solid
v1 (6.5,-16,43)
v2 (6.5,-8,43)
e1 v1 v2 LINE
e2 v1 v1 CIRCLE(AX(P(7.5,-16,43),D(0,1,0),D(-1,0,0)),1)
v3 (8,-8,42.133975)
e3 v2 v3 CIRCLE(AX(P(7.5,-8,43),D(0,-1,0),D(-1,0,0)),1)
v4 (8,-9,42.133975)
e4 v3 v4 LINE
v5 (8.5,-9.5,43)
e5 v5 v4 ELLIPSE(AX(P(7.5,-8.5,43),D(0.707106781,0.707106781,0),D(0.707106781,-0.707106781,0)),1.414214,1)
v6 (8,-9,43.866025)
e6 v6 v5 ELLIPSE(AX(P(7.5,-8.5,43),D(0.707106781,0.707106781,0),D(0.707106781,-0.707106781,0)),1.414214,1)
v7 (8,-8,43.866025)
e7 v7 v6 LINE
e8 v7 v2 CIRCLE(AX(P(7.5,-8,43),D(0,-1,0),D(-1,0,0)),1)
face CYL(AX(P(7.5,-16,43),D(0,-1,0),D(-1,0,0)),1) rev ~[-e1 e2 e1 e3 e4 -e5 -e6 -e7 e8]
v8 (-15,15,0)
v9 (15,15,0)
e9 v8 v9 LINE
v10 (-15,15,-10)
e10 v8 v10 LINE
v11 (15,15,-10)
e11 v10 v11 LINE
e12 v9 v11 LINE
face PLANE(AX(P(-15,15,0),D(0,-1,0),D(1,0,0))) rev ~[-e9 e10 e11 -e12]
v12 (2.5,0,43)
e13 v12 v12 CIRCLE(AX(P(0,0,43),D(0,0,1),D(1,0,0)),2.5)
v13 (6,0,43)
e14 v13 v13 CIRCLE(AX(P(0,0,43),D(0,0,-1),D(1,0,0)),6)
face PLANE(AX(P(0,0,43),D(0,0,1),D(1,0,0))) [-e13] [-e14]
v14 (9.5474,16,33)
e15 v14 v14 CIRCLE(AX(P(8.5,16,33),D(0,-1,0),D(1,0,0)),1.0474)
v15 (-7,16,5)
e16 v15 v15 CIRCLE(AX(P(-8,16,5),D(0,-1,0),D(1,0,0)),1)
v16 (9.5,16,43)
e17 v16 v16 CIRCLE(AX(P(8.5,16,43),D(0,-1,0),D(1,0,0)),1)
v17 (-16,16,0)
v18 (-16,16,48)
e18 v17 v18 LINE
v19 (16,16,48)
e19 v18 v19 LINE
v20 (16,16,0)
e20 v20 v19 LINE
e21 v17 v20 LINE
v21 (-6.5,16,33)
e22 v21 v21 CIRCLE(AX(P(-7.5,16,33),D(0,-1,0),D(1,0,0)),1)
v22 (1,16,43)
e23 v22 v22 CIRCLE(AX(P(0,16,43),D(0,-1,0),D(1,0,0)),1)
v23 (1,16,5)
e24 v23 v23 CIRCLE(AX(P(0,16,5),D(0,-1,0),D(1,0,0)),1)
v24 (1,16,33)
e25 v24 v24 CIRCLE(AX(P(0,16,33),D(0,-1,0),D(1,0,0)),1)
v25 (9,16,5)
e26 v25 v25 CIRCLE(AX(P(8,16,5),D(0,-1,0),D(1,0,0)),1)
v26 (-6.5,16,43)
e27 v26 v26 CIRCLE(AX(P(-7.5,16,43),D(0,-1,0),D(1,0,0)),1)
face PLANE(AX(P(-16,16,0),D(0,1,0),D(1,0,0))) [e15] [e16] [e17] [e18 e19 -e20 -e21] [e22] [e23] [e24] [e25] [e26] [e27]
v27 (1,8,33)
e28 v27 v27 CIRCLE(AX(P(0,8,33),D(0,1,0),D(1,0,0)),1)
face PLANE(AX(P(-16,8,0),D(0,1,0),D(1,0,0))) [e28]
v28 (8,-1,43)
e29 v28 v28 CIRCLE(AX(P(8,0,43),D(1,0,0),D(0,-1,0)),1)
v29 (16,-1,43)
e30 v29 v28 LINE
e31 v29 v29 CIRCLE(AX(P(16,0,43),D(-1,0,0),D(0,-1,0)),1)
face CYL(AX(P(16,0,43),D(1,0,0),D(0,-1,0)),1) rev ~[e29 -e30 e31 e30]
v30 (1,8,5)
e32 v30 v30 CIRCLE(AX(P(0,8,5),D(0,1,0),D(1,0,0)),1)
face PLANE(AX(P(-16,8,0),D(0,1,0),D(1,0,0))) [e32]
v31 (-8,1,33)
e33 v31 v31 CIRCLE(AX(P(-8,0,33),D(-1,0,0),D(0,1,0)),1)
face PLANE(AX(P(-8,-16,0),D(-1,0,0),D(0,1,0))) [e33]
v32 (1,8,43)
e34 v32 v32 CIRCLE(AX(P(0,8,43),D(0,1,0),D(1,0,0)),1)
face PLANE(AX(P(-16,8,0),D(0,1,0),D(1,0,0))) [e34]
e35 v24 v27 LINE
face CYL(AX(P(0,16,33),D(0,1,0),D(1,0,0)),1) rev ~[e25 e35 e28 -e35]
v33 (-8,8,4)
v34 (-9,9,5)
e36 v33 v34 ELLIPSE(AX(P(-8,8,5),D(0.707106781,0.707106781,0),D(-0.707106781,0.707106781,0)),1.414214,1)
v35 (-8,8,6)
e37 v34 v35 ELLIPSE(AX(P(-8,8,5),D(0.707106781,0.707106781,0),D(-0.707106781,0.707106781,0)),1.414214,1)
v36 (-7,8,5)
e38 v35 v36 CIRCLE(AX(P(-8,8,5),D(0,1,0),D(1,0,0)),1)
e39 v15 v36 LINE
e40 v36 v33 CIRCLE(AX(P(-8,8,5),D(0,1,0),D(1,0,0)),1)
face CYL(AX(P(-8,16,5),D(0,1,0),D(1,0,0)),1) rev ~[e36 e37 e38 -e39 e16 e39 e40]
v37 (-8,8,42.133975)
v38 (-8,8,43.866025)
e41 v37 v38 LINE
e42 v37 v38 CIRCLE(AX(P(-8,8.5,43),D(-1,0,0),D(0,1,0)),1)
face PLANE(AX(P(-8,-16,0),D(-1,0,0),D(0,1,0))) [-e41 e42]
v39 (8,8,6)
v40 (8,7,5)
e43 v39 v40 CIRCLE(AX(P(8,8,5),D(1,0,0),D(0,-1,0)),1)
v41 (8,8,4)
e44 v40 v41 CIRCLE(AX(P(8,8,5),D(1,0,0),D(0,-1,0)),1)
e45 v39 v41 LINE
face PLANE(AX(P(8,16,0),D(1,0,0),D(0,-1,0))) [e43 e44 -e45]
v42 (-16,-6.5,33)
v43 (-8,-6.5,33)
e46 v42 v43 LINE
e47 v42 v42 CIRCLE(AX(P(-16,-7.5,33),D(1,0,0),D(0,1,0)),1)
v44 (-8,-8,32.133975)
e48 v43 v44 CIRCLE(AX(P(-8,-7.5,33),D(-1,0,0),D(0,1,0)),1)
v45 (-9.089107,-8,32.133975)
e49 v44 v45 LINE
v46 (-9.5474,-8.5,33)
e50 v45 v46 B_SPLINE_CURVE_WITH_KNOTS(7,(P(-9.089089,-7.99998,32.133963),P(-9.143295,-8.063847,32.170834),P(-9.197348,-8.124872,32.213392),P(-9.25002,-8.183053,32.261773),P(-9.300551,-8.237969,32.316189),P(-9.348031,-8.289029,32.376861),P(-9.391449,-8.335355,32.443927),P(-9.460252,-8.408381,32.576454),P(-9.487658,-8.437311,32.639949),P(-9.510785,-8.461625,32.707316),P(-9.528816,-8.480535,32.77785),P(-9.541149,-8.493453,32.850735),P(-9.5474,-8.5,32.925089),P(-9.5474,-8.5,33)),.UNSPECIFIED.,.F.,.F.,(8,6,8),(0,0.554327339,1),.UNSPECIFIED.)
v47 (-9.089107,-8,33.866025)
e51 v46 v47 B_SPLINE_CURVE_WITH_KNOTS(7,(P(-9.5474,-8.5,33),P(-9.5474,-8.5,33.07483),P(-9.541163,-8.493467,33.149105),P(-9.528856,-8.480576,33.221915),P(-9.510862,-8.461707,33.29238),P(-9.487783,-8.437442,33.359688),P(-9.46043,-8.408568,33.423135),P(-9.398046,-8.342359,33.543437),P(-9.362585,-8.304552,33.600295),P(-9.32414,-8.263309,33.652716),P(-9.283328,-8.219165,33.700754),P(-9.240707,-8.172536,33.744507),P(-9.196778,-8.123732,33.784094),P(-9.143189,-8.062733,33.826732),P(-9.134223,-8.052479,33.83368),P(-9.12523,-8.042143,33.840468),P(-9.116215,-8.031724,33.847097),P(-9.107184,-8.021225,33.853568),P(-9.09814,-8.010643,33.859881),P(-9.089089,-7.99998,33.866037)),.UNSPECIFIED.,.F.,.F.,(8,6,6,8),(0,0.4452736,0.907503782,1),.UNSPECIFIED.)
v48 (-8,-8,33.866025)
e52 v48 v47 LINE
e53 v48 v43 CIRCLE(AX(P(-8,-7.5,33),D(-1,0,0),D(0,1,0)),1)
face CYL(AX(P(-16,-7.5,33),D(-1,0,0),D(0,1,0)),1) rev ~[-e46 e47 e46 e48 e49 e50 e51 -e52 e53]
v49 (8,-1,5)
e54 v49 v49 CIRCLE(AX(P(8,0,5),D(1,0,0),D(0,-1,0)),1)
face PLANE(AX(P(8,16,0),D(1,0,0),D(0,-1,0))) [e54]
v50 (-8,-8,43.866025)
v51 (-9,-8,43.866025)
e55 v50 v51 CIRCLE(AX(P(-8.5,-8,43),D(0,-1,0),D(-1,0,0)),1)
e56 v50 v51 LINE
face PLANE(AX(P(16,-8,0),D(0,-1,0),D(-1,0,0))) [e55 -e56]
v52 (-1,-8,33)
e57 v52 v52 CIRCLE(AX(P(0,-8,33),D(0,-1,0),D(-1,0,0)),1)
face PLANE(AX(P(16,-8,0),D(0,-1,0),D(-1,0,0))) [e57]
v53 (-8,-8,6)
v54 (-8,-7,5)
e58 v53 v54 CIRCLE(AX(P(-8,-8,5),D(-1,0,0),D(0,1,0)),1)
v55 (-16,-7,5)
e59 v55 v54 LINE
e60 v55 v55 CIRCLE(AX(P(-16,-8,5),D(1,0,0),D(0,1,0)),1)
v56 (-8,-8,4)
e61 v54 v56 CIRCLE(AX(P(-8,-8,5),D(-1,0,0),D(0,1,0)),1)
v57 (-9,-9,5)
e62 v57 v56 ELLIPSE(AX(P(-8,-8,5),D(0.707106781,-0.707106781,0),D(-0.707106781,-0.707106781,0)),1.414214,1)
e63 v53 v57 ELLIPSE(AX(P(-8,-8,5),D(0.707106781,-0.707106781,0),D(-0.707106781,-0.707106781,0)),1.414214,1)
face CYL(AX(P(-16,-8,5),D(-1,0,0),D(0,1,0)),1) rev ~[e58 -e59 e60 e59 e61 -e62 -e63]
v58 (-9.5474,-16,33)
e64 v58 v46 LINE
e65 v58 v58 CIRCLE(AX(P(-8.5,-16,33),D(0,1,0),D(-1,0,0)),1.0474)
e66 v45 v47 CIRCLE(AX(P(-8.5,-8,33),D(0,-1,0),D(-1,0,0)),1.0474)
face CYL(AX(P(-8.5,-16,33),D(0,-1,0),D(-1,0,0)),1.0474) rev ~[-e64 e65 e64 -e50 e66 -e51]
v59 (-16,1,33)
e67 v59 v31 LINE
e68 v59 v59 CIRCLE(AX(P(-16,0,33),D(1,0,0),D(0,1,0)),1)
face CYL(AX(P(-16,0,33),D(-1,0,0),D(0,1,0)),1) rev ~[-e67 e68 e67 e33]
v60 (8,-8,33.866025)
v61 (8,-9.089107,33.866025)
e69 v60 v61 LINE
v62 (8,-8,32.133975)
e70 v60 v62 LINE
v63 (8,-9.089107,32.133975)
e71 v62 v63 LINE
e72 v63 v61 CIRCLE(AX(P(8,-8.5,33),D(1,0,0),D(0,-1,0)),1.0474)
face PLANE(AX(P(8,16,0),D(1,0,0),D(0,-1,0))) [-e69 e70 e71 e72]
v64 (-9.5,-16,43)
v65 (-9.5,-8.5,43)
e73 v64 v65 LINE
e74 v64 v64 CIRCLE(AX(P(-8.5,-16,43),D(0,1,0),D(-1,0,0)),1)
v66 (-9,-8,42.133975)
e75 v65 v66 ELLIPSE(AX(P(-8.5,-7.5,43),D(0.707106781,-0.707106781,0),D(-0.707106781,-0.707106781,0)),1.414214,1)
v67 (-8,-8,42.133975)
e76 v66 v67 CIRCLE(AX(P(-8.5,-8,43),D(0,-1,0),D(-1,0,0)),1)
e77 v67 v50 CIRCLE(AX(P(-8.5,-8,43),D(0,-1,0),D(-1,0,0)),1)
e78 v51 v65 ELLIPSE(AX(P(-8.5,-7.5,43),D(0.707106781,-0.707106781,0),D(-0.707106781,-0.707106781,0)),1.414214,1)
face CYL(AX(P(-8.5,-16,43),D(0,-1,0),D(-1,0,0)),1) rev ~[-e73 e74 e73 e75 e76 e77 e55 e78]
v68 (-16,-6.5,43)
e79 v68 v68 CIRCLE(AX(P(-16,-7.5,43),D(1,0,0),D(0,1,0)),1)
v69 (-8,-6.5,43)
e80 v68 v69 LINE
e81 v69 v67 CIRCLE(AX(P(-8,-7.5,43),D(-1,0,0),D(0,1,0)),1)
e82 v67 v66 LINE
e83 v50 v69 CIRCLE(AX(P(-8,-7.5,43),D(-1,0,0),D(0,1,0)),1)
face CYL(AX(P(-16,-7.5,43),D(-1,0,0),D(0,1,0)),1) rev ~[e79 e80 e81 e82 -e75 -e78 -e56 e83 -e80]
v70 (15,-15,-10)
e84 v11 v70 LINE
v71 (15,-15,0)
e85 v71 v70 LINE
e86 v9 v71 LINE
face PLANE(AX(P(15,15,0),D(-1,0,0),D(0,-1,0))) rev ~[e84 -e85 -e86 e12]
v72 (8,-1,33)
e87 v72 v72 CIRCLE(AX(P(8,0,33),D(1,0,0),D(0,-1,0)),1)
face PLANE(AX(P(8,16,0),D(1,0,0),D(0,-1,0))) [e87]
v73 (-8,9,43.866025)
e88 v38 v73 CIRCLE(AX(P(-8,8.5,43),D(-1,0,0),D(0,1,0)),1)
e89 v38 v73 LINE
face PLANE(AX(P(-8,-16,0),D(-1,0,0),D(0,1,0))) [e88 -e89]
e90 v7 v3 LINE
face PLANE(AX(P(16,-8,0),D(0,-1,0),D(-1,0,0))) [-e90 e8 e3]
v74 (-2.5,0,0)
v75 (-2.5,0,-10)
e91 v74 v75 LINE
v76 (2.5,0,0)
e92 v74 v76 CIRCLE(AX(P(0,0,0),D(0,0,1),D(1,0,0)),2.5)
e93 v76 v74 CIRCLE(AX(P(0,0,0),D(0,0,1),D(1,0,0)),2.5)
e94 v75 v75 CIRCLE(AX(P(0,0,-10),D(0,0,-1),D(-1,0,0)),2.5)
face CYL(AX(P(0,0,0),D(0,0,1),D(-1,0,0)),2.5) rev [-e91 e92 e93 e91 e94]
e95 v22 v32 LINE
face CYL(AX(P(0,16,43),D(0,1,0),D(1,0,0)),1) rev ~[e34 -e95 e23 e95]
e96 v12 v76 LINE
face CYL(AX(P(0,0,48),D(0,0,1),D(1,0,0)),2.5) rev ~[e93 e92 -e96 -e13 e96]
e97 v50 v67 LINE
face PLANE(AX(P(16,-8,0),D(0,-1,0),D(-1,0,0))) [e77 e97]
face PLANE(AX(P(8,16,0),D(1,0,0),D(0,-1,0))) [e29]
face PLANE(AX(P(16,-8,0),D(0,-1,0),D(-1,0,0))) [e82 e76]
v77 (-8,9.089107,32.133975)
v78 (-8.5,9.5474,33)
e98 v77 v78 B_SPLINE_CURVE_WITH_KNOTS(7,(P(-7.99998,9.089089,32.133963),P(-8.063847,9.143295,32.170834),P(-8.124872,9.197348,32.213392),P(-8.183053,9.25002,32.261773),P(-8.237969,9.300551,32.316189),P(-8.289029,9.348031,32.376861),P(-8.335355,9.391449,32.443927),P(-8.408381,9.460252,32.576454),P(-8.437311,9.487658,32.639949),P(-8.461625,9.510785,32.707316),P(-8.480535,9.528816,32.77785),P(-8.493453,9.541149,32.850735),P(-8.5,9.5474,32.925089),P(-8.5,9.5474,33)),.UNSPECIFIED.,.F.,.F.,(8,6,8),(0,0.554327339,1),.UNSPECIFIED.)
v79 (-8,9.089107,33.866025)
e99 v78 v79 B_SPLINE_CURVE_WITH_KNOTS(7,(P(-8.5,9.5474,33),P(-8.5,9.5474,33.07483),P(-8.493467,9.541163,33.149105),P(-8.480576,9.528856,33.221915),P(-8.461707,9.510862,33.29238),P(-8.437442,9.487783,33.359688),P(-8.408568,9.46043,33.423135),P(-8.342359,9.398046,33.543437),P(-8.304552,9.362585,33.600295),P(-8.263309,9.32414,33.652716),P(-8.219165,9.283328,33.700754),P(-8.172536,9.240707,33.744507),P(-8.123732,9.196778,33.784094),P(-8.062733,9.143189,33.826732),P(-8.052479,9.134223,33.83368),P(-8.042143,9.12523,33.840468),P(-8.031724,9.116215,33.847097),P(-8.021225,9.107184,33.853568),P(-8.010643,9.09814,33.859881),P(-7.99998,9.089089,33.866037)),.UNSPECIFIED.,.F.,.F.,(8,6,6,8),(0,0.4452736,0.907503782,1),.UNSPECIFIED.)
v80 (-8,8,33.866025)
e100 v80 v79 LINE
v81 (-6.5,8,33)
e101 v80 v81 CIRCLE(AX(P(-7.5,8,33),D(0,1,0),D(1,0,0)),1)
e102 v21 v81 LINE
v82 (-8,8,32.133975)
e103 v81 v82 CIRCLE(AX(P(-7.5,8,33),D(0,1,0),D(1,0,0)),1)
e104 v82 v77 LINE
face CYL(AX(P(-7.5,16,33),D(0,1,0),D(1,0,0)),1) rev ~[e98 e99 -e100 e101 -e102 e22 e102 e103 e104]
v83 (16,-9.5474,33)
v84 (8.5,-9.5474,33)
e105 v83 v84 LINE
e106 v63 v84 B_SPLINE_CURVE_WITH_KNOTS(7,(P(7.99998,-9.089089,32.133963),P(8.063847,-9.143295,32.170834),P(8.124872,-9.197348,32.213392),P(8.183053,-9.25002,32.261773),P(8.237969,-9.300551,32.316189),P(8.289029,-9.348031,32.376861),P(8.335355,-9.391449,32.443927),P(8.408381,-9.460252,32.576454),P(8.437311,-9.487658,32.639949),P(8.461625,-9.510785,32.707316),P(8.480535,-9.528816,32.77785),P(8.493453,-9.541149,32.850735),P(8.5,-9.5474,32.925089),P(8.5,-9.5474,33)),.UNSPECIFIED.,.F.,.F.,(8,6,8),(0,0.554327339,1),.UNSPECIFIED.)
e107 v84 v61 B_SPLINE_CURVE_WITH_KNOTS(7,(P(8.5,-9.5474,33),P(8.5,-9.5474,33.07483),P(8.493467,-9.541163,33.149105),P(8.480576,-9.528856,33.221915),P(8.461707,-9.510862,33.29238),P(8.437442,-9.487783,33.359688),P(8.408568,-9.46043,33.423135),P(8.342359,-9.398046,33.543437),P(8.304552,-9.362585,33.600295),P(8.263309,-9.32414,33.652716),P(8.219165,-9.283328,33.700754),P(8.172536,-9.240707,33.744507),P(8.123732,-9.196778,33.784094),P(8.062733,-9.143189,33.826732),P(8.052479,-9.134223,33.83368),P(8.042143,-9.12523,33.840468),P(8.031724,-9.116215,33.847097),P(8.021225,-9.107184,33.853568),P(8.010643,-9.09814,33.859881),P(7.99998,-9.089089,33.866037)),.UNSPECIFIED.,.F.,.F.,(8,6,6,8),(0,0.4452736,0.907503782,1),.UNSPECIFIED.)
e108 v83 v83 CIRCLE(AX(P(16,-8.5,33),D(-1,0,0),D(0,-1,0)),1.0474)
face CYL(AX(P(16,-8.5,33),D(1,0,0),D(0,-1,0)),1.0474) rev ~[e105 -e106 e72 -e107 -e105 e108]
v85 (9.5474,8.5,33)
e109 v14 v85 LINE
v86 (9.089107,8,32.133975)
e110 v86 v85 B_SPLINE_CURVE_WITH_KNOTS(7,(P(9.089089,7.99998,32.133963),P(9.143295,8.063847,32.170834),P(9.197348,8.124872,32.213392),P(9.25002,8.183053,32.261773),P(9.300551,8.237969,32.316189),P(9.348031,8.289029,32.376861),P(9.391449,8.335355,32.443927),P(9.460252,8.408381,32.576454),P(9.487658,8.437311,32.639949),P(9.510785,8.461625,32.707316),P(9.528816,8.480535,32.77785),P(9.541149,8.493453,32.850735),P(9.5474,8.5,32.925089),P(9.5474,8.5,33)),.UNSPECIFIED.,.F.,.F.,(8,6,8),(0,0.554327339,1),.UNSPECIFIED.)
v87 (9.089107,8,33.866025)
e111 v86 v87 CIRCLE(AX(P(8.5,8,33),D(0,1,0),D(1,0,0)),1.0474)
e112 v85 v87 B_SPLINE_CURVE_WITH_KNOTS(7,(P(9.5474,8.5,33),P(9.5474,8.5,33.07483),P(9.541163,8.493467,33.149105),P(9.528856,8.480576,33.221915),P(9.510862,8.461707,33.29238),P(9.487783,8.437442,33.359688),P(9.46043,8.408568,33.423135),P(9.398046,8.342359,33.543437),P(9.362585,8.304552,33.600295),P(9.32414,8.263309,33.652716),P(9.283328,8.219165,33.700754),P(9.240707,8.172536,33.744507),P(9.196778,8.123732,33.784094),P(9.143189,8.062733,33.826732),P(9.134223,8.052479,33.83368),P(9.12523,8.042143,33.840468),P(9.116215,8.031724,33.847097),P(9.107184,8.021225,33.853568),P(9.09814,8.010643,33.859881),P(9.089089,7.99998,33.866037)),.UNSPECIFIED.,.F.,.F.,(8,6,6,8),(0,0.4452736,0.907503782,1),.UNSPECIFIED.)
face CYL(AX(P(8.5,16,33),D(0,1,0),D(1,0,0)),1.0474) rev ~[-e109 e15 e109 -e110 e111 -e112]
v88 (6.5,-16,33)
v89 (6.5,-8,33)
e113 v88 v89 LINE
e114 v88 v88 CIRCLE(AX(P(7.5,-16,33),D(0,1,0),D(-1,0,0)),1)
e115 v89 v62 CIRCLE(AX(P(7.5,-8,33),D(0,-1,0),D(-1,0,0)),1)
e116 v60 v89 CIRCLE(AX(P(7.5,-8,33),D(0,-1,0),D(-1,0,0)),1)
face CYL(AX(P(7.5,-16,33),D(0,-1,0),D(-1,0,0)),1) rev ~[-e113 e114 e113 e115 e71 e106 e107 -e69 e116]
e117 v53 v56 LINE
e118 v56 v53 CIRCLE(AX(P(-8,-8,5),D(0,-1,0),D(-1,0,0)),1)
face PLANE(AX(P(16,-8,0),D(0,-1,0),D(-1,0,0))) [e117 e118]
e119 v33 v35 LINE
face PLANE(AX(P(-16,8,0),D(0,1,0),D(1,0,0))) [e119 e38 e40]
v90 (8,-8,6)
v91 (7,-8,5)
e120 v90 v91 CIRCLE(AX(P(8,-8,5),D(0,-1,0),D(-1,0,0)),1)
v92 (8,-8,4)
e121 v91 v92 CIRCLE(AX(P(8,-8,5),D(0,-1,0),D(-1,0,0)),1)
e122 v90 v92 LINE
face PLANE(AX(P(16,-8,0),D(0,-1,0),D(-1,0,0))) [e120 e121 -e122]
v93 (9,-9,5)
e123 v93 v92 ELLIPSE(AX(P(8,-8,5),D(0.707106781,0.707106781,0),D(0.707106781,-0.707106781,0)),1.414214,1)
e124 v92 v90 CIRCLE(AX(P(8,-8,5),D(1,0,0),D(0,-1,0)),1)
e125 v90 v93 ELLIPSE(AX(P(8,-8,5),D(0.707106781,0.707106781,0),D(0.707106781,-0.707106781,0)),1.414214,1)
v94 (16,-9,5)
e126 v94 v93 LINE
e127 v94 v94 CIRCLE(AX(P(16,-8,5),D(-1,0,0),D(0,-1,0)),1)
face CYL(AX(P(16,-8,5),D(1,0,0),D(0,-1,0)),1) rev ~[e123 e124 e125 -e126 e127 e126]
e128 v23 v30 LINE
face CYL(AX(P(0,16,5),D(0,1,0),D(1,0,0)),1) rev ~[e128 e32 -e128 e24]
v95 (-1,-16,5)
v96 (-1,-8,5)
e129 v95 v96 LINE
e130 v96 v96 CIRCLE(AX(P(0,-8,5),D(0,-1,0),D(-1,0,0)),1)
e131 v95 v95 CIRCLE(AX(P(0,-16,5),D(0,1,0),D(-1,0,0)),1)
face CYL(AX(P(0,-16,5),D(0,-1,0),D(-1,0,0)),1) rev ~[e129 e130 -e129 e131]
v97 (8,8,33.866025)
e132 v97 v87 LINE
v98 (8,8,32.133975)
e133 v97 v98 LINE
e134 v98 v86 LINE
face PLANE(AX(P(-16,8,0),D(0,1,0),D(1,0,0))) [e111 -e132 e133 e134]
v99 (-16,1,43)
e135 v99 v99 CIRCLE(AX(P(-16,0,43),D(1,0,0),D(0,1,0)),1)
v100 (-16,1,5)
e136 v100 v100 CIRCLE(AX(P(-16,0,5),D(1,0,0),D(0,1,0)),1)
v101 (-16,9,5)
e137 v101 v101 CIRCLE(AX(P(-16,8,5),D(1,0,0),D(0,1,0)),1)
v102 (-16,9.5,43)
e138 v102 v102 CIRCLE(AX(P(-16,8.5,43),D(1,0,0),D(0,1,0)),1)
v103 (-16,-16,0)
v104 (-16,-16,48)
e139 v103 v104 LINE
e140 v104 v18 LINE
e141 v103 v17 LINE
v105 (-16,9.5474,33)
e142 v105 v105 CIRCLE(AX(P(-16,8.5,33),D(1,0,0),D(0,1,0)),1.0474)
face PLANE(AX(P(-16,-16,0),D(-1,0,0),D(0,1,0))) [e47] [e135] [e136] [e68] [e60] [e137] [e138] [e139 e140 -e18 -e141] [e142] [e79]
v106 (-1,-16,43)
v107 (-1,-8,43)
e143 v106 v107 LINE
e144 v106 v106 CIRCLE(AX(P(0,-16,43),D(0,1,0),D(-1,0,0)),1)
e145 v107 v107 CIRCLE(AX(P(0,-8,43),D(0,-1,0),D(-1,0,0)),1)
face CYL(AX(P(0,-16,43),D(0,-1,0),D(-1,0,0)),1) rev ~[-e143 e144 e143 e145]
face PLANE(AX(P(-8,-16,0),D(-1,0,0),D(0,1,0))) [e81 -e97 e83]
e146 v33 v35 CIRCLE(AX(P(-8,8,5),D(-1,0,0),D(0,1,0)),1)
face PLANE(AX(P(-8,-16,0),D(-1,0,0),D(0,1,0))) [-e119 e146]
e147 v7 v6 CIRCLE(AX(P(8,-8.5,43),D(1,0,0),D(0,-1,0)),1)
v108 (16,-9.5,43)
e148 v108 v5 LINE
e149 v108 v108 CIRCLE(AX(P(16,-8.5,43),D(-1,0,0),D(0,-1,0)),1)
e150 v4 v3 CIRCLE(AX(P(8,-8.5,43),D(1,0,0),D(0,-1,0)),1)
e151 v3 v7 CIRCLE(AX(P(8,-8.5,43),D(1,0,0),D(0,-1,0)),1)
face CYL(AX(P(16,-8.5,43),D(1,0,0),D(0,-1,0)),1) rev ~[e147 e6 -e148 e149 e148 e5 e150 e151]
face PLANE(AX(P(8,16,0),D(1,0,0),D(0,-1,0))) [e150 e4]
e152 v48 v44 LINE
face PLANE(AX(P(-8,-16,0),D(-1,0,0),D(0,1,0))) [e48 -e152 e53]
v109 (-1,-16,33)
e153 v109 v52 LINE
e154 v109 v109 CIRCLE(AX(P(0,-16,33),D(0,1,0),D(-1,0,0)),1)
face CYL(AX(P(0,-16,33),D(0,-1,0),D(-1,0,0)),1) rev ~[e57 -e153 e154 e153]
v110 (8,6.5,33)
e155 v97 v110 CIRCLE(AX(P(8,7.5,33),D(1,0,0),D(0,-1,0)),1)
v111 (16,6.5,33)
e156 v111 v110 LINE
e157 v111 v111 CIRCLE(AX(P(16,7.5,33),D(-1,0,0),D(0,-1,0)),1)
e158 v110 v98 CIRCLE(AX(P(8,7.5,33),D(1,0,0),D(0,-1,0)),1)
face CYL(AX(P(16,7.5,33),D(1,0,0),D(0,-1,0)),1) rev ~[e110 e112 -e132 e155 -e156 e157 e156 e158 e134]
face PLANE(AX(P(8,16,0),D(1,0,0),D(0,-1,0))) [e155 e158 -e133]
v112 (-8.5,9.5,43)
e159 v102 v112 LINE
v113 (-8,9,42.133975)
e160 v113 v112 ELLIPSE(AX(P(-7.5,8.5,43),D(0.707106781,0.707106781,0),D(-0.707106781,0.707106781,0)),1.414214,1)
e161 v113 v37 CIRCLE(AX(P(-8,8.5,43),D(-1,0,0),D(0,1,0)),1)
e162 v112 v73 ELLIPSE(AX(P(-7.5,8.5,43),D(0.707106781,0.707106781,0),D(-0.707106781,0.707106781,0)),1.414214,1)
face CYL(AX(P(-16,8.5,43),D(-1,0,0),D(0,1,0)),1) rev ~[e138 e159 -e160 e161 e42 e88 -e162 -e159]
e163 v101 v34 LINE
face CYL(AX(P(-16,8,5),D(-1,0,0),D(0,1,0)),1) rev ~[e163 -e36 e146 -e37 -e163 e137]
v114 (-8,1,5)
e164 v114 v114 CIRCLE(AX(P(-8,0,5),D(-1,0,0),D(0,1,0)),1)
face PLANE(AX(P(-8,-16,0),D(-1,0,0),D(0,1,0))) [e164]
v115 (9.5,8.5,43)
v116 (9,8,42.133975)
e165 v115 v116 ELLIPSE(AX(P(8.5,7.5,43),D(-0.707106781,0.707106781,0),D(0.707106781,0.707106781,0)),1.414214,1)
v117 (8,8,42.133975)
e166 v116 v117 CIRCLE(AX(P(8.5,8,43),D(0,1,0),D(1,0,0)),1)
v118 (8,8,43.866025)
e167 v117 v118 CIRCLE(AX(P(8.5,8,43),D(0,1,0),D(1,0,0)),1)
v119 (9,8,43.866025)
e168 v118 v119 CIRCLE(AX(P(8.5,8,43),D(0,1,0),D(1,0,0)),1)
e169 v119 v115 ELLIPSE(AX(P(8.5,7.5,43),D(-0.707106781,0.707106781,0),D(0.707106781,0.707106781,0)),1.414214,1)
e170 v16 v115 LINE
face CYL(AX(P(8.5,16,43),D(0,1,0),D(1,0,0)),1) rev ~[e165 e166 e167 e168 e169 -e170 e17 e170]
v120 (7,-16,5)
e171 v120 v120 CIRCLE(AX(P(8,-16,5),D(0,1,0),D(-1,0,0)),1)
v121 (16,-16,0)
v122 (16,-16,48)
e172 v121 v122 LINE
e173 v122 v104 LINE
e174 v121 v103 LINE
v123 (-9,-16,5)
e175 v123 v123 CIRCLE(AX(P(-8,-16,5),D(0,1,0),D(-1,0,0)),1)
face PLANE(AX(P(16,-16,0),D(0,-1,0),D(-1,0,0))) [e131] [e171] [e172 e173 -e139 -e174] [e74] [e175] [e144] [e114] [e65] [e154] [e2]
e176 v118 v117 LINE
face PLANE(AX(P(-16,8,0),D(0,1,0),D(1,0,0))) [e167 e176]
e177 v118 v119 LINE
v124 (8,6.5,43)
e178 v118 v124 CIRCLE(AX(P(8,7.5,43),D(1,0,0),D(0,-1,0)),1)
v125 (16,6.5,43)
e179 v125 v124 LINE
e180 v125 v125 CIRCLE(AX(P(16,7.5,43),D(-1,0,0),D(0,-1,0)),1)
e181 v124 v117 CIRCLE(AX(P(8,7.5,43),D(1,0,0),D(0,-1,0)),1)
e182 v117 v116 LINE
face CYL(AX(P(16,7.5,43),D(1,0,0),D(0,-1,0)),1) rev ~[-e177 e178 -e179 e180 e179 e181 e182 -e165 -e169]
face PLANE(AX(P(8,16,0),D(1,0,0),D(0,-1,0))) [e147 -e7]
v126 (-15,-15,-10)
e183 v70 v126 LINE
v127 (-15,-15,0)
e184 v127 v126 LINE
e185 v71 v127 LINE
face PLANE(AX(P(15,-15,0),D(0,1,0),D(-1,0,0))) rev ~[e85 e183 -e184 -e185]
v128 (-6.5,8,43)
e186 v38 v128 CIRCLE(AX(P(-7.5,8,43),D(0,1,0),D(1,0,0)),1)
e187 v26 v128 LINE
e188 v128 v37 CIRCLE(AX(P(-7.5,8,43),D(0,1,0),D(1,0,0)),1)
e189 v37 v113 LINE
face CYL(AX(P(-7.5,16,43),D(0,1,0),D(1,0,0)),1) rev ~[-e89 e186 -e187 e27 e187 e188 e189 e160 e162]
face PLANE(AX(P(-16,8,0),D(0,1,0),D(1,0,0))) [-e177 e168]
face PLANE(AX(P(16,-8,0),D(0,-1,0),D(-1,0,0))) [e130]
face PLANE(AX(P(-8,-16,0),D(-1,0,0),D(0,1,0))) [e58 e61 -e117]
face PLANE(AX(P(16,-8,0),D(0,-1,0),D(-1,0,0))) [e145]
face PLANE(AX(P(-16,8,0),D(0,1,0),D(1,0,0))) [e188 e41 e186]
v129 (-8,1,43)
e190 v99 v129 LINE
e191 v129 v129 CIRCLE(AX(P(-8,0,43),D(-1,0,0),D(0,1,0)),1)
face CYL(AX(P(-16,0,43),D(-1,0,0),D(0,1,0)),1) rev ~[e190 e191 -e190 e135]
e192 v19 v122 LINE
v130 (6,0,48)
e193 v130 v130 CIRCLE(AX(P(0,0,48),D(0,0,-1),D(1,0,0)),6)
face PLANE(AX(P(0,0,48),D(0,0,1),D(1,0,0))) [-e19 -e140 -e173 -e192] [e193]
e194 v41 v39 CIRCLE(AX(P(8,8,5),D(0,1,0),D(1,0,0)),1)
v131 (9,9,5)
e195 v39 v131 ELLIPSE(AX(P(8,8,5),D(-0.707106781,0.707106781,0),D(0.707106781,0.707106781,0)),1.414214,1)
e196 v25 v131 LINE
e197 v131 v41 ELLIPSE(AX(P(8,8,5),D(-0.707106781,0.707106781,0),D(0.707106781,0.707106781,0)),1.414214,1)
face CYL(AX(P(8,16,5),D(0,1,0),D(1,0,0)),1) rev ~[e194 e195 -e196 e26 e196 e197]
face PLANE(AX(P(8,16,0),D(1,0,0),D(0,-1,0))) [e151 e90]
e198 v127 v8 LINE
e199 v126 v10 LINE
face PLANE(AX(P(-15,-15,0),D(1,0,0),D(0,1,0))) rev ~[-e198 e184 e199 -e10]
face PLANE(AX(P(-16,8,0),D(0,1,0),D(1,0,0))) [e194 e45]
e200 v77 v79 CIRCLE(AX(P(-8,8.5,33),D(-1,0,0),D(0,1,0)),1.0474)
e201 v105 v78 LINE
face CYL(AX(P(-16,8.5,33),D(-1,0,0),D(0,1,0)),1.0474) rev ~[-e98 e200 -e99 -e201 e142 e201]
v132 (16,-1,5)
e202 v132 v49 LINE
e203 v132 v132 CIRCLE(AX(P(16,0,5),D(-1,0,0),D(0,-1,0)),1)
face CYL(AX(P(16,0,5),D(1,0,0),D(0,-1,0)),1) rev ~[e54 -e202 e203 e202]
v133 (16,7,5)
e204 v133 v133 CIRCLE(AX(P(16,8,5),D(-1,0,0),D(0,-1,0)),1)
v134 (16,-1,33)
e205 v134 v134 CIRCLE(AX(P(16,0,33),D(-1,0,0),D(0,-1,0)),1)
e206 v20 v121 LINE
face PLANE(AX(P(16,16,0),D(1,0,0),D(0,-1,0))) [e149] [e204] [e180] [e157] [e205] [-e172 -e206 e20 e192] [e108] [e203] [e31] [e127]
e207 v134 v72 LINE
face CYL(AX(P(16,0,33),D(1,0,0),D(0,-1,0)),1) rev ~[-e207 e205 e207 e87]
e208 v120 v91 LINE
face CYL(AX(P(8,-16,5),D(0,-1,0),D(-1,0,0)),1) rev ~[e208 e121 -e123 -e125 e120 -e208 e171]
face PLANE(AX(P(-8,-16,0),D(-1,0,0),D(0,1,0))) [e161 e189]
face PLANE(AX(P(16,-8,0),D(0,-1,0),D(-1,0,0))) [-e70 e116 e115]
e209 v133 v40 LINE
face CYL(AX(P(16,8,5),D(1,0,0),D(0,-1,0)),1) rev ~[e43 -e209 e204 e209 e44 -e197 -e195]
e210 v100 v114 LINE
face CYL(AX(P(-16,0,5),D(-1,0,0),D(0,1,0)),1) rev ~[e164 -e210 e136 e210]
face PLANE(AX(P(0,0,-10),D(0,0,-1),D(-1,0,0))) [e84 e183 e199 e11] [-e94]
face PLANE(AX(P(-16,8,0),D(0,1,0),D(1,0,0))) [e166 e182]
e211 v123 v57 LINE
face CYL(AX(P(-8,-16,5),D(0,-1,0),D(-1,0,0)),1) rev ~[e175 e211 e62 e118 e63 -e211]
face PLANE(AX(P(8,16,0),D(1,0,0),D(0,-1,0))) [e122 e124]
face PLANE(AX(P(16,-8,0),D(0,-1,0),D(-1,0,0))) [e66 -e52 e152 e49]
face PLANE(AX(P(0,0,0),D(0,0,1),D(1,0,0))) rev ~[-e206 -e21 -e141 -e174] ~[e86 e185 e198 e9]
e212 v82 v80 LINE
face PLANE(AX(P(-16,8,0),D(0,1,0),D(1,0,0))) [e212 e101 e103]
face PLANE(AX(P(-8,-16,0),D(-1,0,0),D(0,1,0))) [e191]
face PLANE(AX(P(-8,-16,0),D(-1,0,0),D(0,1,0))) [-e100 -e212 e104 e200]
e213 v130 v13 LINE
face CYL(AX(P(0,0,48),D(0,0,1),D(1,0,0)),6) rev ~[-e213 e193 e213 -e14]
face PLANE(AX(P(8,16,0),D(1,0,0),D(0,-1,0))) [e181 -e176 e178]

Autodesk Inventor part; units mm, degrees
ref_plane "YZ Plane" through (0, 0, 0) normal (1, 0, 0) x (0, 1, 0)
ref_plane "XZ Plane" through (0, 0, 0) normal (0, 1, 0) x (-1, 0, 0)
ref_plane "XY Plane" through (0, 0, 0) normal (0, 0, 1) x (1, 0, 0)
sketch "Skizze1" plane through (0, 0, 0) normal (0, 0, 1) x (1, 0, 0)
  line L0 (-16, 16) -> (16, 16)
  line L1 (16, 16) -> (16, -16)
  line L2 (16, -16) -> (-16, -16)
  line L3 (-16, -16) -> (-16, 16)
  line L4 (-16, 16) -> (16, -16) construction
  line L5 (16, 16) -> (-16, -16) construction
  point P0 (0, 0)
  dimension "d0" = 32
  dimension "d1" = 32
extrude "Extrusion1" add sketch "Skizze1" along normal blind 48
sketch "Skizze2" plane through (-16, 16, 0) normal (0, 1, 0) x (1, 0, 0)
  line L0 (0, 0) -> (32, 0) construction
  line L1 (0, 0) -> (0, -48) construction
  line L2 (32, -48) -> (0, -48) construction
  line L3 (32, 0) -> (32, -48) construction
  line L4 (5, -43) -> (5, -5)
  line L5 (5, -5) -> (27, -5)
  line L6 (27, -5) -> (27, -43)
  line L7 (27, -43) -> (5, -43)
  line L8 (32, -48) -> (0, -48) projected
  line L9 (16, -48) -> (16, 0)
  circle A0 centre (16, -5) radius 1
  circle A1 centre (8, -5) radius 1
  circle A2 centre (24, -5) radius 1
  circle A3 centre (16, -43) radius 1
  circle A4 centre (8.5, -43) radius 1
  circle A5 centre (24.5, -43) radius 1
  line L10 (27, -33) -> (5, -33)
  circle A6 centre (24.5, -33) radius 1.0474
  circle A7 centre (16, -33) radius 1
  circle A8 centre (8.5, -33) radius 1
  dimension "d4" = 5
  dimension "d5" = 2
  dimension "d6" = 2
  dimension "d7" = 2
  dimension "d8" = 2
  dimension "d9" = 8
  dimension "d10" = 8
  dimension "d11" = 2
  dimension "d12" = 2
  dimension "d23" = 10
extrude "Extrusion2" cut sketch "Skizze2" against normal blind 8 contours A4 L7 | L7 A4 | A8 L10 | L10 A8 | A1 L5 | L5 A1 | A3 L9 L7 | L7 L9 A3 | A7 L9 L10 | L10 L9 A7 | L9 A3 L7 | L7 A3 L9 | A0 L9 L5 | L5 L9 A0 | L10 A7 L9 | L9 A7 L10 | L9 A0 L5 | L5 A0 L9 | A5 L7 | L7 A5 | A6 L10 | L10 A6 | A2 L5 | L5 A2
sketch "Skizze3" plane through (0, 0, 48) normal (0, 0, 1) x (1, 0, 0)
  circle A0 centre (0, 0) radius 2.5
  dimension "d15" = 5
extrude "Extrusion3" cut sketch "Skizze3" against normal through all
sketch "Skizze4" plane through (0, 0, 48) normal (0, 0, 1) x (1, 0, 0)
  line L0 (-2.45, 0.55) -> (-42.45, 0.55) projected
  circle A0 centre (0, 0) radius 2.5 projected
  line L1 (16, 16) -> (-16, 16) projected
  line L2 (-16, 16) -> (-16, -16) projected
  line L3 (-16, -16) -> (16, -16) projected
  line L4 (16, -16) -> (16, 16) projected
  circle A1 centre (0, 0) radius 6
  dimension "d18" = 12
extrude "Extrusion4" cut sketch "Skizze4" against normal blind 5 contours A1
sketch "Skizze5" plane through (0, 0, 0) normal (0, 0, -1) x (-1, 0, 0)
  line L0 (-15, -15) -> (15, -15)
  line L1 (15, -15) -> (15, 15)
  line L2 (15, 15) -> (-15, 15)
  line L3 (-15, 15) -> (-15, -15)
  circle A0 centre (0, 0) radius 2.5 projected
  line L4 (-15, -15) -> (15, 15) construction
  line L5 (15, -15) -> (-15, 15) construction
  dimension "d24" = 30
  dimension "d25" = 30
extrude "Extrusion5" add sketch "Skizze5" along normal blind 10
pattern_circular "Runde Anordnung1" count 4 over 360 about axis through (0, 0, 48) along (0, 0, -1) of "Extrusion2"
properties part number "LASER_640nm"
